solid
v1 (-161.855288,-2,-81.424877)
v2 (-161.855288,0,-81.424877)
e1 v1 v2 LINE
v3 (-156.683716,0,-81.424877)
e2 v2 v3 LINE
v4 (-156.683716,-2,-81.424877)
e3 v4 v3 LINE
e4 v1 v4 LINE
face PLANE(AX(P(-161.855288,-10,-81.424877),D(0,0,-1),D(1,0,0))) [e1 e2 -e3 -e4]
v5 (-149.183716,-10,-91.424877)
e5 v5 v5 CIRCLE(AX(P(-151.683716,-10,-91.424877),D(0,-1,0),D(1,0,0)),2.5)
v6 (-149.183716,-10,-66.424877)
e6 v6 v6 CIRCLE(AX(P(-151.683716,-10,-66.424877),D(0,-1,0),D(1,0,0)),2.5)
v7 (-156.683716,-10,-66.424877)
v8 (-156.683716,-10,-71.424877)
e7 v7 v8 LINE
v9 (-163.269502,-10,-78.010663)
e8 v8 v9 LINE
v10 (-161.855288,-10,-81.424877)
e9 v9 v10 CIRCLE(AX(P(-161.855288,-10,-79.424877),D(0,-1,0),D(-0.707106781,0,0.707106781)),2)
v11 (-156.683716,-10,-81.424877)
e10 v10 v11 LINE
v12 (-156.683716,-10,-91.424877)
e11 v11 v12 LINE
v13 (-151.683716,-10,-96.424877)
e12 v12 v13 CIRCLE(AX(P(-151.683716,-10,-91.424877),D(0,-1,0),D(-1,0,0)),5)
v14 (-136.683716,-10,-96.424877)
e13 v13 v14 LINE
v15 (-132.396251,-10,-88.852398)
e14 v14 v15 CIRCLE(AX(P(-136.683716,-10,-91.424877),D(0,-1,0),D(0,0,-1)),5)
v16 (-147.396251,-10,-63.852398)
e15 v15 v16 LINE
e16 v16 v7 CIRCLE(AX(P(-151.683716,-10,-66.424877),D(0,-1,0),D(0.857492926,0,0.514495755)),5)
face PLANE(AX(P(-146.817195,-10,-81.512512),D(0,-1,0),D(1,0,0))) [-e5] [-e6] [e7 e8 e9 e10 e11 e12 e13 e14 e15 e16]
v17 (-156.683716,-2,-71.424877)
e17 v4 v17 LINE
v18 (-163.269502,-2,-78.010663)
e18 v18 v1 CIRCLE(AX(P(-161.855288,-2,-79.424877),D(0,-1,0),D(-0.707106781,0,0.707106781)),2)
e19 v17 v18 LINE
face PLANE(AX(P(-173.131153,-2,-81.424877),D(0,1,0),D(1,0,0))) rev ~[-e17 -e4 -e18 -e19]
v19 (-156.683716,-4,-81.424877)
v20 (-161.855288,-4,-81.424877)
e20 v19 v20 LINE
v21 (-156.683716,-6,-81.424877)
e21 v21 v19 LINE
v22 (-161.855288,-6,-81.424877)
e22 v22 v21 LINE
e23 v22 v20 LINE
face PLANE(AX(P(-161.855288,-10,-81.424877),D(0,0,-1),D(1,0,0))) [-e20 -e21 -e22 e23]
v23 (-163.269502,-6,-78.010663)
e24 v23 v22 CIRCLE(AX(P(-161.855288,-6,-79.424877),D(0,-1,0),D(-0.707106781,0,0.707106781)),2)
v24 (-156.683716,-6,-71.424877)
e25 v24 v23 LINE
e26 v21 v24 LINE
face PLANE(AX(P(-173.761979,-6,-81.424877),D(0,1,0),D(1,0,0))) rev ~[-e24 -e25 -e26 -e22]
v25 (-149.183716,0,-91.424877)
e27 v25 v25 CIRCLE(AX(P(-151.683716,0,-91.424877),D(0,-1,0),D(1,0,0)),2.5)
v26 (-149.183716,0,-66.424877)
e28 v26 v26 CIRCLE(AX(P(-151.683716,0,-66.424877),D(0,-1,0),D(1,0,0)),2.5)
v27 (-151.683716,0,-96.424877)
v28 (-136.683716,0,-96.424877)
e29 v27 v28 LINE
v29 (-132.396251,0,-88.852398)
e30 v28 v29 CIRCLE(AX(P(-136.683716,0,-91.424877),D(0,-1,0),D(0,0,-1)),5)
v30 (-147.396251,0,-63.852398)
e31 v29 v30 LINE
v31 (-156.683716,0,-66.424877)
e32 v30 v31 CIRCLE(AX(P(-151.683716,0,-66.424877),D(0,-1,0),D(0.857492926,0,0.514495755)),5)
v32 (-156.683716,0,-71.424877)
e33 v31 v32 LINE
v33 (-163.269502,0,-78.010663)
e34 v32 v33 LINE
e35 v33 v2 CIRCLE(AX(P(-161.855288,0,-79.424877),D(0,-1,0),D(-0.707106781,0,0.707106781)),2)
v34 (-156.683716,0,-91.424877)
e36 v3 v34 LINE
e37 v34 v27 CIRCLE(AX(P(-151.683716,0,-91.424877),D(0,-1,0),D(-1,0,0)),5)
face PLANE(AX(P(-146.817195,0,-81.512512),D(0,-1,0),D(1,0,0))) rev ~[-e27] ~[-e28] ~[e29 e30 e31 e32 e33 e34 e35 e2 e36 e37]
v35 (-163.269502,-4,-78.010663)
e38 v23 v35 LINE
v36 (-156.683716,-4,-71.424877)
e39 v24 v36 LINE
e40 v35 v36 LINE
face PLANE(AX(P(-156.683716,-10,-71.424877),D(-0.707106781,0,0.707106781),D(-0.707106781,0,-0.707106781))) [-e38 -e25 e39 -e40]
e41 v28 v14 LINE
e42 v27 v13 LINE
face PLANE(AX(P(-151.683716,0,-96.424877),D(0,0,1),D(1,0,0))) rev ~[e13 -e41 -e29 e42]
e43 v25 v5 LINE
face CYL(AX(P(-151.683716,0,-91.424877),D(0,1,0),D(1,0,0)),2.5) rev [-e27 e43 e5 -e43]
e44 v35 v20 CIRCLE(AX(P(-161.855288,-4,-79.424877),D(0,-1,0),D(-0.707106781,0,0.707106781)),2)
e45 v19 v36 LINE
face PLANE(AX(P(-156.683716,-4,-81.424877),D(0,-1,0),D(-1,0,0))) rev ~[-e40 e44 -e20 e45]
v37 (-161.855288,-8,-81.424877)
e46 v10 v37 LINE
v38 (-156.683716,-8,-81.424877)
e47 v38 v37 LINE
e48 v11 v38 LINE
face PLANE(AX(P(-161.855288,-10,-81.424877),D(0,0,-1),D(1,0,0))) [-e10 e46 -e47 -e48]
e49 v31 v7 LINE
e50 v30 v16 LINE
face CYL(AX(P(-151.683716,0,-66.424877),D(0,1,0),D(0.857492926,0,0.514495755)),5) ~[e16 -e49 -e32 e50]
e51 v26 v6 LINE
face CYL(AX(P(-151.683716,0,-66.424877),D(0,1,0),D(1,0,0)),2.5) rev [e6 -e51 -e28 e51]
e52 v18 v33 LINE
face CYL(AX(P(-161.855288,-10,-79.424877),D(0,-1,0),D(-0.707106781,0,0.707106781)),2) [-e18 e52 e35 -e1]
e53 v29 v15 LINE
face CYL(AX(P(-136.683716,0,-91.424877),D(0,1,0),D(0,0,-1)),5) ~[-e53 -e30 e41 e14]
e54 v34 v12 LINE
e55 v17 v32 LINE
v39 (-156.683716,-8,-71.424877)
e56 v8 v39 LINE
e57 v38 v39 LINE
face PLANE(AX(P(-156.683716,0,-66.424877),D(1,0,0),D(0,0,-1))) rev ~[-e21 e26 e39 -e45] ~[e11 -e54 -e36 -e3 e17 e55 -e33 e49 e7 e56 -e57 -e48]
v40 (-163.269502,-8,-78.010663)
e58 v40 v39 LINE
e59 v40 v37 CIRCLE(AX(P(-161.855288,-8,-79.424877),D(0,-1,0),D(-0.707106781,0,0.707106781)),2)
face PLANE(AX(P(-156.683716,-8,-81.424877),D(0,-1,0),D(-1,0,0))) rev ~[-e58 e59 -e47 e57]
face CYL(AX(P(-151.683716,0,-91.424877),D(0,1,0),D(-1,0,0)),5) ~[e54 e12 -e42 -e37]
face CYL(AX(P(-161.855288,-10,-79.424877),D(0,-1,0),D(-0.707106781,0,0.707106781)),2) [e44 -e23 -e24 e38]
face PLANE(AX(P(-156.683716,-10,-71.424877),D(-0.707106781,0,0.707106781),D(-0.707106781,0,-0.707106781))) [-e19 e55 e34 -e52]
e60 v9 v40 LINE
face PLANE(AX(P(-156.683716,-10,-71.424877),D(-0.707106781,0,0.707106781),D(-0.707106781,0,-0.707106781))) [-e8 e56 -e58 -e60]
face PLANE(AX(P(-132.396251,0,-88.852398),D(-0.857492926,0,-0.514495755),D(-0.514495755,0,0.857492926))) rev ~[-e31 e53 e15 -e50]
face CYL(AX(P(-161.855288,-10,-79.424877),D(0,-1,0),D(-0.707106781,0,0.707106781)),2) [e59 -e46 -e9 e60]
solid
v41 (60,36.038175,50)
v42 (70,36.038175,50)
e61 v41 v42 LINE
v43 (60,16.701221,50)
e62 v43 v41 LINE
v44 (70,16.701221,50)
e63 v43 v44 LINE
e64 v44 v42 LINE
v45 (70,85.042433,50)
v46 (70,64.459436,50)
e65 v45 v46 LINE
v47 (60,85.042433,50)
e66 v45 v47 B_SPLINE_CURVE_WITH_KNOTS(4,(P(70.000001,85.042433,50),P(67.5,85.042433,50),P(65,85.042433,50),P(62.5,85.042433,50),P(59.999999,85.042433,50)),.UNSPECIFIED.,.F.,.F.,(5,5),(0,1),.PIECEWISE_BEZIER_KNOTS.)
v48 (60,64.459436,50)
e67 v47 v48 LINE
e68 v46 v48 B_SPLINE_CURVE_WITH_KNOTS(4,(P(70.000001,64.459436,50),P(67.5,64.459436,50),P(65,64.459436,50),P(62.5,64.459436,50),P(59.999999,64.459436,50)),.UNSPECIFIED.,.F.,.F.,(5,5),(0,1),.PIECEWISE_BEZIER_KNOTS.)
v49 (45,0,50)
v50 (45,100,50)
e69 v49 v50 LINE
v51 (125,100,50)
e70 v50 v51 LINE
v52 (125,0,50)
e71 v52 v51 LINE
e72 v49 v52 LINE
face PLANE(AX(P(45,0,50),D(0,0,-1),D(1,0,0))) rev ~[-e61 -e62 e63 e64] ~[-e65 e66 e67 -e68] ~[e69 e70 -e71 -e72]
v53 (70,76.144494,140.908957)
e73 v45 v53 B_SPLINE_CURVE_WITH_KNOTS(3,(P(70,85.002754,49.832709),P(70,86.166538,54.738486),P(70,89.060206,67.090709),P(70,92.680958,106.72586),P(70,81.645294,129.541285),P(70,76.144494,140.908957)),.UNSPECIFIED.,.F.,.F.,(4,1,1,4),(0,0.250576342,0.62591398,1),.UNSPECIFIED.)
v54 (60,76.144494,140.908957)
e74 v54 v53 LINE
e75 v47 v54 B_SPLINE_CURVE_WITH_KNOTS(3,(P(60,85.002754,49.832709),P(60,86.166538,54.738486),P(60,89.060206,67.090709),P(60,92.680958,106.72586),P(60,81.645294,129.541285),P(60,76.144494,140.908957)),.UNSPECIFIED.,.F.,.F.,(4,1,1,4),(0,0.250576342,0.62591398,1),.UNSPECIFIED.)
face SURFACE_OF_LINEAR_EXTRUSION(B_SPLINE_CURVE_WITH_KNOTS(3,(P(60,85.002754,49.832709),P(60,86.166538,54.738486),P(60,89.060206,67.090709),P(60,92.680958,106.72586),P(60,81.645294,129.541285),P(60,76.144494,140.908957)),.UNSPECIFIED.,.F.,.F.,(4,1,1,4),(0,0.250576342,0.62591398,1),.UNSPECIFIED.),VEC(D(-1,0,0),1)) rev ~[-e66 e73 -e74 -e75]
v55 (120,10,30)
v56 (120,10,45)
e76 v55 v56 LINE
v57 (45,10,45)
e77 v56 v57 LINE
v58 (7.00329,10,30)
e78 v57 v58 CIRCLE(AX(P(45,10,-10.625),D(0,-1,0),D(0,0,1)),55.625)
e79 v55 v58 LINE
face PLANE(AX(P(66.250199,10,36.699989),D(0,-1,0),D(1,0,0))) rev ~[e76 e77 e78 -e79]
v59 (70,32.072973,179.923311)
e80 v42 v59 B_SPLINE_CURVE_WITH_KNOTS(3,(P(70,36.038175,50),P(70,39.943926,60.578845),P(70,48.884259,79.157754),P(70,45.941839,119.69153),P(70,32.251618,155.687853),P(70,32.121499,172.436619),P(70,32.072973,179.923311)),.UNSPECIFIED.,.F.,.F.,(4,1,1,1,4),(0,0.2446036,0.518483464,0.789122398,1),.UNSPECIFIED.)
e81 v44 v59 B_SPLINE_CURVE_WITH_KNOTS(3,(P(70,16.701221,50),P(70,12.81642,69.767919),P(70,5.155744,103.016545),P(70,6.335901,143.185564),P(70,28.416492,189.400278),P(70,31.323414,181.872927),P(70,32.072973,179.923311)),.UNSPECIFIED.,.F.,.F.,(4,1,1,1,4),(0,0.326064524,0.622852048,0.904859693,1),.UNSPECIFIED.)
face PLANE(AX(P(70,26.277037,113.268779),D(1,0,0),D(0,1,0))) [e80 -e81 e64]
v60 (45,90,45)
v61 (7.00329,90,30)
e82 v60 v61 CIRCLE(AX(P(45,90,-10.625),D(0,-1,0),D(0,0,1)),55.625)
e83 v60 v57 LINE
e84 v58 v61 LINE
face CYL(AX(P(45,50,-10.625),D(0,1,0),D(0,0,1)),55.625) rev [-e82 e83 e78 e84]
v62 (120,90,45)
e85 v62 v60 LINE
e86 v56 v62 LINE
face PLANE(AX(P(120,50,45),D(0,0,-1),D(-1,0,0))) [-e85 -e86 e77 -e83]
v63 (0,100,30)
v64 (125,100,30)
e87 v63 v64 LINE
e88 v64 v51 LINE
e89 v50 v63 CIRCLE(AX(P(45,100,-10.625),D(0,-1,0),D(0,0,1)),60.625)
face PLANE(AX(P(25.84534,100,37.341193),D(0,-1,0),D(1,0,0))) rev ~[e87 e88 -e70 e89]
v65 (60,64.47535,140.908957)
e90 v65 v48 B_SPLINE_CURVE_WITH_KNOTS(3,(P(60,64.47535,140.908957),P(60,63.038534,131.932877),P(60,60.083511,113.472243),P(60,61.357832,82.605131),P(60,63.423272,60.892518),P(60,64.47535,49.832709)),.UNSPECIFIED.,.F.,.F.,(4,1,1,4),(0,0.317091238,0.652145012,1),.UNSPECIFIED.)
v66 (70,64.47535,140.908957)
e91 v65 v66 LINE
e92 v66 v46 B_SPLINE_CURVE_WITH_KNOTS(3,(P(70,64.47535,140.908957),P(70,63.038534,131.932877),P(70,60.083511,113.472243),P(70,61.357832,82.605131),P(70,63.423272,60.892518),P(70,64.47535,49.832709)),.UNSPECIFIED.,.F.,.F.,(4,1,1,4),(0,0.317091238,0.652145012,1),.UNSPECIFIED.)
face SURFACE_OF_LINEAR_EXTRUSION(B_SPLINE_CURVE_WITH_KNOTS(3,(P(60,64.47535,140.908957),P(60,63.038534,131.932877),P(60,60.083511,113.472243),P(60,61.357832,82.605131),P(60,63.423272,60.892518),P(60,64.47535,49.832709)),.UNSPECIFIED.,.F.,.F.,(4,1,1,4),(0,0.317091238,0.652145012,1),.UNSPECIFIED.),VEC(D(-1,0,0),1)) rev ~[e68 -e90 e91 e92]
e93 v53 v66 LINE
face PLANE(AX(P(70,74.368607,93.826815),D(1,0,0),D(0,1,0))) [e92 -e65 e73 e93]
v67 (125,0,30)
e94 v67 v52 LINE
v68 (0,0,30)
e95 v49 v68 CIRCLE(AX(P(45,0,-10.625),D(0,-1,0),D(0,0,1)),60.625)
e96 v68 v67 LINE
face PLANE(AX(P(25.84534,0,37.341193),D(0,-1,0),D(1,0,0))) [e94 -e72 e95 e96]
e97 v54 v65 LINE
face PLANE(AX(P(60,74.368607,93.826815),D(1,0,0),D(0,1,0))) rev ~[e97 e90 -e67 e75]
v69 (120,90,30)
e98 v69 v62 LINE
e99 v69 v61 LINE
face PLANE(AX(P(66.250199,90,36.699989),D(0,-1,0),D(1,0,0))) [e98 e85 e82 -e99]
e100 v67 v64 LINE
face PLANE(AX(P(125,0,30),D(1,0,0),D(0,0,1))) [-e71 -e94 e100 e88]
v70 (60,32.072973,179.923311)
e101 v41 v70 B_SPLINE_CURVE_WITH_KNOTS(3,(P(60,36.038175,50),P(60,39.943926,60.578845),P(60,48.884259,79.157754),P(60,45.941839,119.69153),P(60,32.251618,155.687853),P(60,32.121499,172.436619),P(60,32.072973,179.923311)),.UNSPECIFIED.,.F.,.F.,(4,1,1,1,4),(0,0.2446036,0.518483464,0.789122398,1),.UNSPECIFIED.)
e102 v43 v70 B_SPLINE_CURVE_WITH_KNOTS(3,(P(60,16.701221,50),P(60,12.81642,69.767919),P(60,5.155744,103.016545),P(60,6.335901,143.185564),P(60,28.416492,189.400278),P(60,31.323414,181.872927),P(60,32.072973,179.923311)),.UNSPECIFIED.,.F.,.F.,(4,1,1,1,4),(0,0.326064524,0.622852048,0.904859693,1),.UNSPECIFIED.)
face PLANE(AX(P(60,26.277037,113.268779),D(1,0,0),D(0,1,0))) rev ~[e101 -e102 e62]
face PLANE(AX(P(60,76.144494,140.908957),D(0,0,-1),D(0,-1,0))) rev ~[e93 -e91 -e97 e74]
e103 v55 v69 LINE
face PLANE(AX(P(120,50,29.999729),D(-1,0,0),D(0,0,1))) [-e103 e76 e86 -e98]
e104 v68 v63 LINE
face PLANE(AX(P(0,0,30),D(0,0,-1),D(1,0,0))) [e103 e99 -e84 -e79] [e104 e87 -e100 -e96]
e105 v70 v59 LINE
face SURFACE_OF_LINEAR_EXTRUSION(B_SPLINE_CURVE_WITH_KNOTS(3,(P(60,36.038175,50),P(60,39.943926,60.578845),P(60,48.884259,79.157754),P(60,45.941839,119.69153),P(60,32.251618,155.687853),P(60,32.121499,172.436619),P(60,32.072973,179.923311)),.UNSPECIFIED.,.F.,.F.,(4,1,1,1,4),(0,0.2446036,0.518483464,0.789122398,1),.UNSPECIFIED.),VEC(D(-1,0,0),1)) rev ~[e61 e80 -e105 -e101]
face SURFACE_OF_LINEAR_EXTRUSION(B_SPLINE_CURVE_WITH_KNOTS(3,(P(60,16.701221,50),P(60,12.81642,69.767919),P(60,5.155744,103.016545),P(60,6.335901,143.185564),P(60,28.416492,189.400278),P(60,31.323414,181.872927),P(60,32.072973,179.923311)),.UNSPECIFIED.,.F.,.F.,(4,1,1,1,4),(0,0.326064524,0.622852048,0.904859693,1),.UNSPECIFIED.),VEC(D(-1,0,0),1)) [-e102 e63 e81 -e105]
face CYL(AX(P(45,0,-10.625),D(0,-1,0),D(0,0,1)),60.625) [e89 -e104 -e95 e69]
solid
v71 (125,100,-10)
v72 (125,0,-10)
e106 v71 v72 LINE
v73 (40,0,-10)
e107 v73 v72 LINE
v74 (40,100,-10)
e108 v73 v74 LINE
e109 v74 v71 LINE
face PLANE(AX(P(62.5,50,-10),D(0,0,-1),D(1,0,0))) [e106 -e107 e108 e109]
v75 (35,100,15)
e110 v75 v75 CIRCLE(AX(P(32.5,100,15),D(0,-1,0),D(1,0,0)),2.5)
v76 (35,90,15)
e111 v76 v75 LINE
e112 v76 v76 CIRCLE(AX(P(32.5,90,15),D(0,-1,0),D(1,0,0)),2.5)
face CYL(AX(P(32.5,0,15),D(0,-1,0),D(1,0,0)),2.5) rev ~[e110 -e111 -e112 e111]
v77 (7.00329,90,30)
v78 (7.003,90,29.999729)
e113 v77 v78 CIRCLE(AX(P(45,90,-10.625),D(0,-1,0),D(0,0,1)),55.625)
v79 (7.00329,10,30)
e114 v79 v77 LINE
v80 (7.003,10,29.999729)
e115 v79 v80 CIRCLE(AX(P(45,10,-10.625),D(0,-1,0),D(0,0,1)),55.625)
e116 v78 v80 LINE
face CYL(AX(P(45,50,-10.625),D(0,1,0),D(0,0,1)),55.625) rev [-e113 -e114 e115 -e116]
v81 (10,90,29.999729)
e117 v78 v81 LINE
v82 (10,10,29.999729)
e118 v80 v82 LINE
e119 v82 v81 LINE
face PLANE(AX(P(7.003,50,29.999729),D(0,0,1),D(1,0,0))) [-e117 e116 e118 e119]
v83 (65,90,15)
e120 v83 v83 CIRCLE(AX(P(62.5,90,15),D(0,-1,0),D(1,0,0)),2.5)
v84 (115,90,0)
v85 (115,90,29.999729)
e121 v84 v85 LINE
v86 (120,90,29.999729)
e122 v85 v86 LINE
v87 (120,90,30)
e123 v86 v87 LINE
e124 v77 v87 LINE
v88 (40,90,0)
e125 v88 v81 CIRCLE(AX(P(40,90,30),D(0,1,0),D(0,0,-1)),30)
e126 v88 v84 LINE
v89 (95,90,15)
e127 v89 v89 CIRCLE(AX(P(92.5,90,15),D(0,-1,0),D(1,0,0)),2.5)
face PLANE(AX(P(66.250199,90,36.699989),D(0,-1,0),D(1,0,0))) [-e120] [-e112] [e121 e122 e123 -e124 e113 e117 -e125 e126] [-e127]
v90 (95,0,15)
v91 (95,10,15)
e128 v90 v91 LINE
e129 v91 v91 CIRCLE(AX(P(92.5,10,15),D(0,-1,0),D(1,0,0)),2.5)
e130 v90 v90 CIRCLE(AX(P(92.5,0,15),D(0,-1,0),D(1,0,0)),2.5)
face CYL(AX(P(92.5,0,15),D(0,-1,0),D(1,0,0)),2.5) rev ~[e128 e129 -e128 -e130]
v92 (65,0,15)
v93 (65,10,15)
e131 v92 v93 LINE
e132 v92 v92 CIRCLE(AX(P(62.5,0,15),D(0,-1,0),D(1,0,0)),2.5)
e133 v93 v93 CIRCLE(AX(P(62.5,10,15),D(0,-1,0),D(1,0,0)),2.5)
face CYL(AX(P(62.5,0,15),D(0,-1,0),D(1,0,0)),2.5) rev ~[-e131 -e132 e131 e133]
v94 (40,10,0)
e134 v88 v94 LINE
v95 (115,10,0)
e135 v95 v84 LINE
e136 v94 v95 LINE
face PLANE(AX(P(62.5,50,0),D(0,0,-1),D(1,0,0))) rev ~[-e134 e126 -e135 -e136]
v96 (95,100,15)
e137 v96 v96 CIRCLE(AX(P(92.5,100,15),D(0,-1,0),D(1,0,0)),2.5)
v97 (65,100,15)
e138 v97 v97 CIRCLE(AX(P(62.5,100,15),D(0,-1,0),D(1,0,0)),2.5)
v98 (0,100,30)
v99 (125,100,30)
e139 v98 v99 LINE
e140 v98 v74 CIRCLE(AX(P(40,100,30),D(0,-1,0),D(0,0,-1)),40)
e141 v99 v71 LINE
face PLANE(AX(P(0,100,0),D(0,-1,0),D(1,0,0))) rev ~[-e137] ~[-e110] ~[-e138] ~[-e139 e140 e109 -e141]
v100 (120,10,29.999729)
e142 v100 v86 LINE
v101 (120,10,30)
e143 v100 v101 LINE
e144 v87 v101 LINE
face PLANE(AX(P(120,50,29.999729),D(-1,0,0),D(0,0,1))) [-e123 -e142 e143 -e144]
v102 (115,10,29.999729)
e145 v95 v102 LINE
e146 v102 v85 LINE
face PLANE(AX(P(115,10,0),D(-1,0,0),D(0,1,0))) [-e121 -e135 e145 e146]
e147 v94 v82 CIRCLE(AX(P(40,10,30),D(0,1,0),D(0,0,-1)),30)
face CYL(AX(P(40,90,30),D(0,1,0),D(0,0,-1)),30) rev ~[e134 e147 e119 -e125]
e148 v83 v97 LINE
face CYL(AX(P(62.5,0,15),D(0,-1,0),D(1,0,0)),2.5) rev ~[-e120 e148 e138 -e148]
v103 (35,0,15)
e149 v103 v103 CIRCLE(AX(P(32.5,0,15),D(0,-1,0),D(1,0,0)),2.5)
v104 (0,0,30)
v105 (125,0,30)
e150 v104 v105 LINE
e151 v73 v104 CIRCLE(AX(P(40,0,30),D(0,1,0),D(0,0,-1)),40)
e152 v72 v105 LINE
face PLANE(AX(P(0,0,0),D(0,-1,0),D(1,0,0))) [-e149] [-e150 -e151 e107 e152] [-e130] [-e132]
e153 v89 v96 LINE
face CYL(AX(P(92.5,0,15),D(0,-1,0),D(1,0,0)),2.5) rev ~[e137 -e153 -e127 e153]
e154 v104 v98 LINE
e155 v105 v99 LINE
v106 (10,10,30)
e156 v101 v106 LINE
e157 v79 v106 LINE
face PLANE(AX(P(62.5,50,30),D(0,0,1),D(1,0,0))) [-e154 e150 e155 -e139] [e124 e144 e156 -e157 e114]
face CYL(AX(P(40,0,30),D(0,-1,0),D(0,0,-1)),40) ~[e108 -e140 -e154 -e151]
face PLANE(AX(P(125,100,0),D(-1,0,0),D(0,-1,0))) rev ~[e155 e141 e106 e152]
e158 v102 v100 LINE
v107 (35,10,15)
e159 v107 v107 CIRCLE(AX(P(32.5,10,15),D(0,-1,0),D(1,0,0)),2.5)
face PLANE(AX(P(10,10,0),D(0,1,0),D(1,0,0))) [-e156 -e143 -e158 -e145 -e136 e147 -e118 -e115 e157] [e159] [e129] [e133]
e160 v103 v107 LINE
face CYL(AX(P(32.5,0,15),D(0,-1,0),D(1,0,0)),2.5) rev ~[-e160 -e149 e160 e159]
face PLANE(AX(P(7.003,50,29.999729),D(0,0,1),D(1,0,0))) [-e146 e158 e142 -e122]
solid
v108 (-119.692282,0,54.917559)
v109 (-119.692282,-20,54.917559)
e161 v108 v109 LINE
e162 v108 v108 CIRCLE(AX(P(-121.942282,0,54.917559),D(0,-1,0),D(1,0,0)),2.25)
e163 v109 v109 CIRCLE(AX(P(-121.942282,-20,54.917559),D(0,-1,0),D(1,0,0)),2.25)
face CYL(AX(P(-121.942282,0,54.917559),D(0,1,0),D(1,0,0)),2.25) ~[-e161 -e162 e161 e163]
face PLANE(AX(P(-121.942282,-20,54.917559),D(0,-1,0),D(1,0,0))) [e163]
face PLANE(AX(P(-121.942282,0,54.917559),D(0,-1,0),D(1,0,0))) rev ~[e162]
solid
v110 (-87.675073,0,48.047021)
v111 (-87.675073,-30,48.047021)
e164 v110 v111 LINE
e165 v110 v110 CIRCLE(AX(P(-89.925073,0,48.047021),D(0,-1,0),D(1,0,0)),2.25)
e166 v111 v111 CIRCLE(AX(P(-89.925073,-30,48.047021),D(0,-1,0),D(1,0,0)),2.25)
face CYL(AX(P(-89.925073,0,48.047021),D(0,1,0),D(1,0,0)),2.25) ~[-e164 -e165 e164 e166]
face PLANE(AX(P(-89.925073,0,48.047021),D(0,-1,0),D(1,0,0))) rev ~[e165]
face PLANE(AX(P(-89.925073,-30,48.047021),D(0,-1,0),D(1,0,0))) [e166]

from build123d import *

# Parameters (mm, degrees)
F0_W           = 125
F0_H           = 100
F0_W_2         = 105
F0_H_2         = 80
F1_DEPTH       = 30
F2_R           = 2.5
F3_DEPTH       = 100.001
F4_W           = 125
F4_H           = 100
F4_W_2         = 105
F4_H_2         = 80
F5_DEPTH       = 10
F7_DEPTH       = 6666
F9_DEPTH       = 83.4
F10_W          = 80
F10_H          = 20
F11_DEPTH      = 100
F15_DEPTH      = 10
F17_DEPTH      = 40
F17_DEPTH_BACK = 40
F18_R          = 2.5
F19_DEPTH      = 10
F21_DEPTH      = 10
F22_W          = 11.9066902784
F22_H          = 2
F22_W_2        = 5.1715728753
F22_W_3        = 11.2758645205
F23_DEPTH      = 25
F24_R          = 2.25
F25_DEPTH      = 20
F26_R          = 2.25
F27_DEPTH      = 30


with BuildPart() as f1:
    # F0 (on Top) → F1 (new body)
    with BuildSketch(Plane.XY):
        with Locations((62.5, 50)):
            Rectangle(F0_W, F0_H)
        with Locations((62.5, 50)):
            Rectangle(F0_W_2, F0_H_2, mode=Mode.SUBTRACT)
    extrude(amount=F1_DEPTH)

    # F2 (on face) → F3 (cut, through all)
    with BuildSketch(Plane.XZ):
        with Locations((32.5, 15)):
            Circle(F2_R)
        with Locations((62.5, 15)):
            Circle(F2_R)
        with Locations((92.5, 15)):
            Circle(F2_R)
    extrude(amount=-F3_DEPTH, mode=Mode.SUBTRACT)

    # F4 (on face) → F5 (join)
    with BuildSketch(Plane(origin=(0, 0, 0), x_dir=(1, 0, 0), z_dir=(0, 0, -1))):
        with Locations((62.5, -50)):
            Rectangle(F4_W, F4_H)
        with Locations((62.5, -50)):
            Rectangle(F4_W_2, F4_H_2, mode=Mode.SUBTRACT)
        with Locations((62.5, -50)):
            Rectangle(F4_W_2, F4_H_2)
    extrude(amount=F5_DEPTH)

    # F6 (on face) → F7 (cut)
    with BuildSketch(Plane.XZ):
        Polygon((0, -10), (0, 30), (-36.8616729975, 33.3101339638), (-29.7704413533, -57.1963898838), (40, -10), align=None)
        with BuildLine():
            ThreePointArc((40, -10), (11.7157287525, 1.7157287525), (0, 30))
            Line((0, 30), (0, -10))
            Line((0, -10), (40, -10))
        make_face()
    extrude(amount=-F7_DEPTH, mode=Mode.SUBTRACT)

    # F8 (on face) → F9 (join)
    with BuildSketch(Plane.XZ.offset(-90)):
        with BuildLine():
            Line((10, 30), (10, 3.5424868894))
            ThreePointArc((10, 3.5424868894), (11.7157287525, 1.7157287525), (13.5424868894, 0))
            Line((13.5424868894, 0), (40, 0))
            ThreePointArc((40, 0), (18.7867965644, 8.7867965644), (10, 30))
        make_face()
    extrude(amount=F9_DEPTH)


with BuildPart() as f11:
    # F10 (on face) → F11 (new body)
    with BuildSketch(Plane.XZ):
        with BuildLine():
            Line((0, 30), (45, 30))
            Line((45, 30), (45, 50))
            ThreePointArc((45, 50), (20.3778554955, 44.7748251351), (0, 30))
        make_face()
        with Locations((85, 40)):
            Rectangle(F10_W, F10_H)
    extrude(amount=-F11_DEPTH)

    # F14 (on offset) → F15 (join)
    with BuildSketch(Plane.YZ.offset(60)):
        with BuildLine():
            Line((64.4753500819, 49.8327091336), (85.0027536981, 49.8327091336))
            add(Edge.make_bspline(
                [(85.0027536981, 49.8327091336), (86.1665383789, 54.7384858339), (89.0602060082, 67.0907089545), (92.6809583428, 106.7258604967), (81.6452944269, 129.5412851185), (76.1444941163, 140.9089565277)],
                knots=[0, 0, 0, 0, 0.2505763425, 0.6259139796, 1, 1, 1, 1], degree=3))
            Line((76.1444941163, 140.9089565277), (64.4753500819, 140.9089565277))
            add(Edge.make_bspline(
                [(64.4753500819, 140.9089565277), (63.0385344229, 131.9328773477), (60.0835105921, 113.4722434338), (61.3578321961, 82.6051306794), (63.4232718078, 60.892518239), (64.4753500819, 49.8327091336)],
                knots=[0, 0, 0, 0, 0.3170912381, 0.6521450118, 1, 1, 1, 1], degree=3))
        make_face()
        with BuildLine():
            Line((16.7012212295, 50), (36.0381749595, 50))
            add(Edge.make_bspline(
                [(36.0381749595, 50), (39.9439264096, 60.5788452322), (48.8842587835, 79.1577540087), (45.9418389645, 119.6915304439), (32.2516183868, 155.6878532796), (32.1214988224, 172.4366188097), (32.0729725063, 179.9233108759)],
                knots=[0, 0, 0, 0, 0.2446036002, 0.518483464, 0.7891223984, 1, 1, 1, 1], degree=3))
            add(Edge.make_bspline(
                [(16.7012212295, 50), (12.8164200839, 69.7679192689), (5.1557437253, 103.0165449914), (6.3359006778, 143.1855642768), (28.4164917181, 189.4002776519), (31.3234141752, 181.8729274365), (32.0729725063, 179.9233108759)],
                knots=[0, 0, 0, 0, 0.3260645241, 0.6228520483, 0.9048596934, 1, 1, 1, 1], degree=3))
        make_face()
    extrude(amount=F15_DEPTH)


with BuildPart() as f17_tool:
    # F16 (on offset) → F17 (new body, two sides)
    with BuildSketch(Plane.XZ.offset(-50)) as f17_sk:
        with BuildLine():
            Line((120, 45), (45, 45))
            ThreePointArc((45, 45), (24.5746472766, 41.1142074845), (7.003, 29.9997291191))
            Line((7.003, 29.9997291191), (120, 29.9997291191))
            Line((120, 29.9997291191), (120, 45))
        make_face()
    extrude(amount=-F17_DEPTH)
    extrude(f17_sk.sketch, amount=F17_DEPTH_BACK)


with BuildPart() as f1_1:
    add(f1.part)

    # F17: cut by f17_tool
    add(f17_tool.part, mode=Mode.SUBTRACT)


with BuildPart() as f11_1:
    add(f11.part)

    # F17: cut by f17_tool
    add(f17_tool.part, mode=Mode.SUBTRACT)


with BuildPart() as f19:
    # F18 (on Front) → F19 (new body)
    with BuildSketch(Plane.XZ):
        with BuildLine():
            ThreePointArc((-147.3962509632, -63.8523980975), (-153.0183835013, -61.6063022336), (-156.6837155918, -66.4248768747))
            Line((-156.6837155918, -66.4248768747), (-156.6837155918, -91.4248768747))
            ThreePointArc((-156.6837155918, -91.4248768747), (-155.2192494977, -94.9604107806), (-151.6837155918, -96.4248768747))
            Line((-151.6837155918, -96.4248768747), (-136.6837155918, -96.4248768747))
            ThreePointArc((-136.6837155918, -96.4248768747), (-132.332716058, -93.8883709496), (-132.3962509632, -88.8523980975))
            Line((-132.3962509632, -88.8523980975), (-147.3962509632, -63.8523980975))
        make_face()
        with Locations((-151.6837155918, -91.4248768747)):
            Circle(F18_R, mode=Mode.SUBTRACT)
        with Locations((-151.6837155918, -66.4248768747)):
            Circle(F18_R, mode=Mode.SUBTRACT)
    extrude(amount=F19_DEPTH)

    # F20 (on face) → F21 (join)
    with BuildSketch(Plane.XZ.offset(10)):
        with BuildLine():
            Line((-156.6837155918, -81.4248768747), (-156.6837155918, -71.4248768747))
            Line((-156.6837155918, -71.4248768747), (-163.2695020294, -78.0106633123))
            ThreePointArc((-163.2695020294, -78.0106633123), (-163.7030475321, -80.1902437394), (-161.855288467, -81.4248768747))
            Line((-161.855288467, -81.4248768747), (-156.6837155918, -81.4248768747))
        make_face()
    extrude(amount=-F21_DEPTH)

    # F22 (on face) → F23 (cut)
    with BuildSketch(Plane(origin=(0, 0, -81.4248768747), x_dir=(1, 0, 0), z_dir=(0, 0, -1))):
        with Locations((-167.8086336062, 7)):
            Rectangle(F22_W, F22_H)
        with Locations((-159.2695020294, 3)):
            Rectangle(F22_W_2, F22_H)
        with Locations((-159.2695020294, 7)):
            Rectangle(F22_W_2, F22_H)
        with Locations((-167.4932207273, 3)):
            Rectangle(F22_W_3, F22_H)
    extrude(amount=-F23_DEPTH, mode=Mode.SUBTRACT)


with BuildPart() as f25:
    # F24 (on Front) → F25 (new body)
    with BuildSketch(Plane.XZ):
        with Locations((-121.942281723, 54.9175590277)):
            Circle(F24_R)
    extrude(amount=F25_DEPTH)


with BuildPart() as f27:
    # F26 (on Front) → F27 (new body)
    with BuildSketch(Plane.XZ):
        with Locations((-89.9250730872, 48.0470210314)):
            Circle(F26_R)
    extrude(amount=F27_DEPTH)


solid = Compound([f1_1.part, f11_1.part, f19.part, f25.part, f27.part])
